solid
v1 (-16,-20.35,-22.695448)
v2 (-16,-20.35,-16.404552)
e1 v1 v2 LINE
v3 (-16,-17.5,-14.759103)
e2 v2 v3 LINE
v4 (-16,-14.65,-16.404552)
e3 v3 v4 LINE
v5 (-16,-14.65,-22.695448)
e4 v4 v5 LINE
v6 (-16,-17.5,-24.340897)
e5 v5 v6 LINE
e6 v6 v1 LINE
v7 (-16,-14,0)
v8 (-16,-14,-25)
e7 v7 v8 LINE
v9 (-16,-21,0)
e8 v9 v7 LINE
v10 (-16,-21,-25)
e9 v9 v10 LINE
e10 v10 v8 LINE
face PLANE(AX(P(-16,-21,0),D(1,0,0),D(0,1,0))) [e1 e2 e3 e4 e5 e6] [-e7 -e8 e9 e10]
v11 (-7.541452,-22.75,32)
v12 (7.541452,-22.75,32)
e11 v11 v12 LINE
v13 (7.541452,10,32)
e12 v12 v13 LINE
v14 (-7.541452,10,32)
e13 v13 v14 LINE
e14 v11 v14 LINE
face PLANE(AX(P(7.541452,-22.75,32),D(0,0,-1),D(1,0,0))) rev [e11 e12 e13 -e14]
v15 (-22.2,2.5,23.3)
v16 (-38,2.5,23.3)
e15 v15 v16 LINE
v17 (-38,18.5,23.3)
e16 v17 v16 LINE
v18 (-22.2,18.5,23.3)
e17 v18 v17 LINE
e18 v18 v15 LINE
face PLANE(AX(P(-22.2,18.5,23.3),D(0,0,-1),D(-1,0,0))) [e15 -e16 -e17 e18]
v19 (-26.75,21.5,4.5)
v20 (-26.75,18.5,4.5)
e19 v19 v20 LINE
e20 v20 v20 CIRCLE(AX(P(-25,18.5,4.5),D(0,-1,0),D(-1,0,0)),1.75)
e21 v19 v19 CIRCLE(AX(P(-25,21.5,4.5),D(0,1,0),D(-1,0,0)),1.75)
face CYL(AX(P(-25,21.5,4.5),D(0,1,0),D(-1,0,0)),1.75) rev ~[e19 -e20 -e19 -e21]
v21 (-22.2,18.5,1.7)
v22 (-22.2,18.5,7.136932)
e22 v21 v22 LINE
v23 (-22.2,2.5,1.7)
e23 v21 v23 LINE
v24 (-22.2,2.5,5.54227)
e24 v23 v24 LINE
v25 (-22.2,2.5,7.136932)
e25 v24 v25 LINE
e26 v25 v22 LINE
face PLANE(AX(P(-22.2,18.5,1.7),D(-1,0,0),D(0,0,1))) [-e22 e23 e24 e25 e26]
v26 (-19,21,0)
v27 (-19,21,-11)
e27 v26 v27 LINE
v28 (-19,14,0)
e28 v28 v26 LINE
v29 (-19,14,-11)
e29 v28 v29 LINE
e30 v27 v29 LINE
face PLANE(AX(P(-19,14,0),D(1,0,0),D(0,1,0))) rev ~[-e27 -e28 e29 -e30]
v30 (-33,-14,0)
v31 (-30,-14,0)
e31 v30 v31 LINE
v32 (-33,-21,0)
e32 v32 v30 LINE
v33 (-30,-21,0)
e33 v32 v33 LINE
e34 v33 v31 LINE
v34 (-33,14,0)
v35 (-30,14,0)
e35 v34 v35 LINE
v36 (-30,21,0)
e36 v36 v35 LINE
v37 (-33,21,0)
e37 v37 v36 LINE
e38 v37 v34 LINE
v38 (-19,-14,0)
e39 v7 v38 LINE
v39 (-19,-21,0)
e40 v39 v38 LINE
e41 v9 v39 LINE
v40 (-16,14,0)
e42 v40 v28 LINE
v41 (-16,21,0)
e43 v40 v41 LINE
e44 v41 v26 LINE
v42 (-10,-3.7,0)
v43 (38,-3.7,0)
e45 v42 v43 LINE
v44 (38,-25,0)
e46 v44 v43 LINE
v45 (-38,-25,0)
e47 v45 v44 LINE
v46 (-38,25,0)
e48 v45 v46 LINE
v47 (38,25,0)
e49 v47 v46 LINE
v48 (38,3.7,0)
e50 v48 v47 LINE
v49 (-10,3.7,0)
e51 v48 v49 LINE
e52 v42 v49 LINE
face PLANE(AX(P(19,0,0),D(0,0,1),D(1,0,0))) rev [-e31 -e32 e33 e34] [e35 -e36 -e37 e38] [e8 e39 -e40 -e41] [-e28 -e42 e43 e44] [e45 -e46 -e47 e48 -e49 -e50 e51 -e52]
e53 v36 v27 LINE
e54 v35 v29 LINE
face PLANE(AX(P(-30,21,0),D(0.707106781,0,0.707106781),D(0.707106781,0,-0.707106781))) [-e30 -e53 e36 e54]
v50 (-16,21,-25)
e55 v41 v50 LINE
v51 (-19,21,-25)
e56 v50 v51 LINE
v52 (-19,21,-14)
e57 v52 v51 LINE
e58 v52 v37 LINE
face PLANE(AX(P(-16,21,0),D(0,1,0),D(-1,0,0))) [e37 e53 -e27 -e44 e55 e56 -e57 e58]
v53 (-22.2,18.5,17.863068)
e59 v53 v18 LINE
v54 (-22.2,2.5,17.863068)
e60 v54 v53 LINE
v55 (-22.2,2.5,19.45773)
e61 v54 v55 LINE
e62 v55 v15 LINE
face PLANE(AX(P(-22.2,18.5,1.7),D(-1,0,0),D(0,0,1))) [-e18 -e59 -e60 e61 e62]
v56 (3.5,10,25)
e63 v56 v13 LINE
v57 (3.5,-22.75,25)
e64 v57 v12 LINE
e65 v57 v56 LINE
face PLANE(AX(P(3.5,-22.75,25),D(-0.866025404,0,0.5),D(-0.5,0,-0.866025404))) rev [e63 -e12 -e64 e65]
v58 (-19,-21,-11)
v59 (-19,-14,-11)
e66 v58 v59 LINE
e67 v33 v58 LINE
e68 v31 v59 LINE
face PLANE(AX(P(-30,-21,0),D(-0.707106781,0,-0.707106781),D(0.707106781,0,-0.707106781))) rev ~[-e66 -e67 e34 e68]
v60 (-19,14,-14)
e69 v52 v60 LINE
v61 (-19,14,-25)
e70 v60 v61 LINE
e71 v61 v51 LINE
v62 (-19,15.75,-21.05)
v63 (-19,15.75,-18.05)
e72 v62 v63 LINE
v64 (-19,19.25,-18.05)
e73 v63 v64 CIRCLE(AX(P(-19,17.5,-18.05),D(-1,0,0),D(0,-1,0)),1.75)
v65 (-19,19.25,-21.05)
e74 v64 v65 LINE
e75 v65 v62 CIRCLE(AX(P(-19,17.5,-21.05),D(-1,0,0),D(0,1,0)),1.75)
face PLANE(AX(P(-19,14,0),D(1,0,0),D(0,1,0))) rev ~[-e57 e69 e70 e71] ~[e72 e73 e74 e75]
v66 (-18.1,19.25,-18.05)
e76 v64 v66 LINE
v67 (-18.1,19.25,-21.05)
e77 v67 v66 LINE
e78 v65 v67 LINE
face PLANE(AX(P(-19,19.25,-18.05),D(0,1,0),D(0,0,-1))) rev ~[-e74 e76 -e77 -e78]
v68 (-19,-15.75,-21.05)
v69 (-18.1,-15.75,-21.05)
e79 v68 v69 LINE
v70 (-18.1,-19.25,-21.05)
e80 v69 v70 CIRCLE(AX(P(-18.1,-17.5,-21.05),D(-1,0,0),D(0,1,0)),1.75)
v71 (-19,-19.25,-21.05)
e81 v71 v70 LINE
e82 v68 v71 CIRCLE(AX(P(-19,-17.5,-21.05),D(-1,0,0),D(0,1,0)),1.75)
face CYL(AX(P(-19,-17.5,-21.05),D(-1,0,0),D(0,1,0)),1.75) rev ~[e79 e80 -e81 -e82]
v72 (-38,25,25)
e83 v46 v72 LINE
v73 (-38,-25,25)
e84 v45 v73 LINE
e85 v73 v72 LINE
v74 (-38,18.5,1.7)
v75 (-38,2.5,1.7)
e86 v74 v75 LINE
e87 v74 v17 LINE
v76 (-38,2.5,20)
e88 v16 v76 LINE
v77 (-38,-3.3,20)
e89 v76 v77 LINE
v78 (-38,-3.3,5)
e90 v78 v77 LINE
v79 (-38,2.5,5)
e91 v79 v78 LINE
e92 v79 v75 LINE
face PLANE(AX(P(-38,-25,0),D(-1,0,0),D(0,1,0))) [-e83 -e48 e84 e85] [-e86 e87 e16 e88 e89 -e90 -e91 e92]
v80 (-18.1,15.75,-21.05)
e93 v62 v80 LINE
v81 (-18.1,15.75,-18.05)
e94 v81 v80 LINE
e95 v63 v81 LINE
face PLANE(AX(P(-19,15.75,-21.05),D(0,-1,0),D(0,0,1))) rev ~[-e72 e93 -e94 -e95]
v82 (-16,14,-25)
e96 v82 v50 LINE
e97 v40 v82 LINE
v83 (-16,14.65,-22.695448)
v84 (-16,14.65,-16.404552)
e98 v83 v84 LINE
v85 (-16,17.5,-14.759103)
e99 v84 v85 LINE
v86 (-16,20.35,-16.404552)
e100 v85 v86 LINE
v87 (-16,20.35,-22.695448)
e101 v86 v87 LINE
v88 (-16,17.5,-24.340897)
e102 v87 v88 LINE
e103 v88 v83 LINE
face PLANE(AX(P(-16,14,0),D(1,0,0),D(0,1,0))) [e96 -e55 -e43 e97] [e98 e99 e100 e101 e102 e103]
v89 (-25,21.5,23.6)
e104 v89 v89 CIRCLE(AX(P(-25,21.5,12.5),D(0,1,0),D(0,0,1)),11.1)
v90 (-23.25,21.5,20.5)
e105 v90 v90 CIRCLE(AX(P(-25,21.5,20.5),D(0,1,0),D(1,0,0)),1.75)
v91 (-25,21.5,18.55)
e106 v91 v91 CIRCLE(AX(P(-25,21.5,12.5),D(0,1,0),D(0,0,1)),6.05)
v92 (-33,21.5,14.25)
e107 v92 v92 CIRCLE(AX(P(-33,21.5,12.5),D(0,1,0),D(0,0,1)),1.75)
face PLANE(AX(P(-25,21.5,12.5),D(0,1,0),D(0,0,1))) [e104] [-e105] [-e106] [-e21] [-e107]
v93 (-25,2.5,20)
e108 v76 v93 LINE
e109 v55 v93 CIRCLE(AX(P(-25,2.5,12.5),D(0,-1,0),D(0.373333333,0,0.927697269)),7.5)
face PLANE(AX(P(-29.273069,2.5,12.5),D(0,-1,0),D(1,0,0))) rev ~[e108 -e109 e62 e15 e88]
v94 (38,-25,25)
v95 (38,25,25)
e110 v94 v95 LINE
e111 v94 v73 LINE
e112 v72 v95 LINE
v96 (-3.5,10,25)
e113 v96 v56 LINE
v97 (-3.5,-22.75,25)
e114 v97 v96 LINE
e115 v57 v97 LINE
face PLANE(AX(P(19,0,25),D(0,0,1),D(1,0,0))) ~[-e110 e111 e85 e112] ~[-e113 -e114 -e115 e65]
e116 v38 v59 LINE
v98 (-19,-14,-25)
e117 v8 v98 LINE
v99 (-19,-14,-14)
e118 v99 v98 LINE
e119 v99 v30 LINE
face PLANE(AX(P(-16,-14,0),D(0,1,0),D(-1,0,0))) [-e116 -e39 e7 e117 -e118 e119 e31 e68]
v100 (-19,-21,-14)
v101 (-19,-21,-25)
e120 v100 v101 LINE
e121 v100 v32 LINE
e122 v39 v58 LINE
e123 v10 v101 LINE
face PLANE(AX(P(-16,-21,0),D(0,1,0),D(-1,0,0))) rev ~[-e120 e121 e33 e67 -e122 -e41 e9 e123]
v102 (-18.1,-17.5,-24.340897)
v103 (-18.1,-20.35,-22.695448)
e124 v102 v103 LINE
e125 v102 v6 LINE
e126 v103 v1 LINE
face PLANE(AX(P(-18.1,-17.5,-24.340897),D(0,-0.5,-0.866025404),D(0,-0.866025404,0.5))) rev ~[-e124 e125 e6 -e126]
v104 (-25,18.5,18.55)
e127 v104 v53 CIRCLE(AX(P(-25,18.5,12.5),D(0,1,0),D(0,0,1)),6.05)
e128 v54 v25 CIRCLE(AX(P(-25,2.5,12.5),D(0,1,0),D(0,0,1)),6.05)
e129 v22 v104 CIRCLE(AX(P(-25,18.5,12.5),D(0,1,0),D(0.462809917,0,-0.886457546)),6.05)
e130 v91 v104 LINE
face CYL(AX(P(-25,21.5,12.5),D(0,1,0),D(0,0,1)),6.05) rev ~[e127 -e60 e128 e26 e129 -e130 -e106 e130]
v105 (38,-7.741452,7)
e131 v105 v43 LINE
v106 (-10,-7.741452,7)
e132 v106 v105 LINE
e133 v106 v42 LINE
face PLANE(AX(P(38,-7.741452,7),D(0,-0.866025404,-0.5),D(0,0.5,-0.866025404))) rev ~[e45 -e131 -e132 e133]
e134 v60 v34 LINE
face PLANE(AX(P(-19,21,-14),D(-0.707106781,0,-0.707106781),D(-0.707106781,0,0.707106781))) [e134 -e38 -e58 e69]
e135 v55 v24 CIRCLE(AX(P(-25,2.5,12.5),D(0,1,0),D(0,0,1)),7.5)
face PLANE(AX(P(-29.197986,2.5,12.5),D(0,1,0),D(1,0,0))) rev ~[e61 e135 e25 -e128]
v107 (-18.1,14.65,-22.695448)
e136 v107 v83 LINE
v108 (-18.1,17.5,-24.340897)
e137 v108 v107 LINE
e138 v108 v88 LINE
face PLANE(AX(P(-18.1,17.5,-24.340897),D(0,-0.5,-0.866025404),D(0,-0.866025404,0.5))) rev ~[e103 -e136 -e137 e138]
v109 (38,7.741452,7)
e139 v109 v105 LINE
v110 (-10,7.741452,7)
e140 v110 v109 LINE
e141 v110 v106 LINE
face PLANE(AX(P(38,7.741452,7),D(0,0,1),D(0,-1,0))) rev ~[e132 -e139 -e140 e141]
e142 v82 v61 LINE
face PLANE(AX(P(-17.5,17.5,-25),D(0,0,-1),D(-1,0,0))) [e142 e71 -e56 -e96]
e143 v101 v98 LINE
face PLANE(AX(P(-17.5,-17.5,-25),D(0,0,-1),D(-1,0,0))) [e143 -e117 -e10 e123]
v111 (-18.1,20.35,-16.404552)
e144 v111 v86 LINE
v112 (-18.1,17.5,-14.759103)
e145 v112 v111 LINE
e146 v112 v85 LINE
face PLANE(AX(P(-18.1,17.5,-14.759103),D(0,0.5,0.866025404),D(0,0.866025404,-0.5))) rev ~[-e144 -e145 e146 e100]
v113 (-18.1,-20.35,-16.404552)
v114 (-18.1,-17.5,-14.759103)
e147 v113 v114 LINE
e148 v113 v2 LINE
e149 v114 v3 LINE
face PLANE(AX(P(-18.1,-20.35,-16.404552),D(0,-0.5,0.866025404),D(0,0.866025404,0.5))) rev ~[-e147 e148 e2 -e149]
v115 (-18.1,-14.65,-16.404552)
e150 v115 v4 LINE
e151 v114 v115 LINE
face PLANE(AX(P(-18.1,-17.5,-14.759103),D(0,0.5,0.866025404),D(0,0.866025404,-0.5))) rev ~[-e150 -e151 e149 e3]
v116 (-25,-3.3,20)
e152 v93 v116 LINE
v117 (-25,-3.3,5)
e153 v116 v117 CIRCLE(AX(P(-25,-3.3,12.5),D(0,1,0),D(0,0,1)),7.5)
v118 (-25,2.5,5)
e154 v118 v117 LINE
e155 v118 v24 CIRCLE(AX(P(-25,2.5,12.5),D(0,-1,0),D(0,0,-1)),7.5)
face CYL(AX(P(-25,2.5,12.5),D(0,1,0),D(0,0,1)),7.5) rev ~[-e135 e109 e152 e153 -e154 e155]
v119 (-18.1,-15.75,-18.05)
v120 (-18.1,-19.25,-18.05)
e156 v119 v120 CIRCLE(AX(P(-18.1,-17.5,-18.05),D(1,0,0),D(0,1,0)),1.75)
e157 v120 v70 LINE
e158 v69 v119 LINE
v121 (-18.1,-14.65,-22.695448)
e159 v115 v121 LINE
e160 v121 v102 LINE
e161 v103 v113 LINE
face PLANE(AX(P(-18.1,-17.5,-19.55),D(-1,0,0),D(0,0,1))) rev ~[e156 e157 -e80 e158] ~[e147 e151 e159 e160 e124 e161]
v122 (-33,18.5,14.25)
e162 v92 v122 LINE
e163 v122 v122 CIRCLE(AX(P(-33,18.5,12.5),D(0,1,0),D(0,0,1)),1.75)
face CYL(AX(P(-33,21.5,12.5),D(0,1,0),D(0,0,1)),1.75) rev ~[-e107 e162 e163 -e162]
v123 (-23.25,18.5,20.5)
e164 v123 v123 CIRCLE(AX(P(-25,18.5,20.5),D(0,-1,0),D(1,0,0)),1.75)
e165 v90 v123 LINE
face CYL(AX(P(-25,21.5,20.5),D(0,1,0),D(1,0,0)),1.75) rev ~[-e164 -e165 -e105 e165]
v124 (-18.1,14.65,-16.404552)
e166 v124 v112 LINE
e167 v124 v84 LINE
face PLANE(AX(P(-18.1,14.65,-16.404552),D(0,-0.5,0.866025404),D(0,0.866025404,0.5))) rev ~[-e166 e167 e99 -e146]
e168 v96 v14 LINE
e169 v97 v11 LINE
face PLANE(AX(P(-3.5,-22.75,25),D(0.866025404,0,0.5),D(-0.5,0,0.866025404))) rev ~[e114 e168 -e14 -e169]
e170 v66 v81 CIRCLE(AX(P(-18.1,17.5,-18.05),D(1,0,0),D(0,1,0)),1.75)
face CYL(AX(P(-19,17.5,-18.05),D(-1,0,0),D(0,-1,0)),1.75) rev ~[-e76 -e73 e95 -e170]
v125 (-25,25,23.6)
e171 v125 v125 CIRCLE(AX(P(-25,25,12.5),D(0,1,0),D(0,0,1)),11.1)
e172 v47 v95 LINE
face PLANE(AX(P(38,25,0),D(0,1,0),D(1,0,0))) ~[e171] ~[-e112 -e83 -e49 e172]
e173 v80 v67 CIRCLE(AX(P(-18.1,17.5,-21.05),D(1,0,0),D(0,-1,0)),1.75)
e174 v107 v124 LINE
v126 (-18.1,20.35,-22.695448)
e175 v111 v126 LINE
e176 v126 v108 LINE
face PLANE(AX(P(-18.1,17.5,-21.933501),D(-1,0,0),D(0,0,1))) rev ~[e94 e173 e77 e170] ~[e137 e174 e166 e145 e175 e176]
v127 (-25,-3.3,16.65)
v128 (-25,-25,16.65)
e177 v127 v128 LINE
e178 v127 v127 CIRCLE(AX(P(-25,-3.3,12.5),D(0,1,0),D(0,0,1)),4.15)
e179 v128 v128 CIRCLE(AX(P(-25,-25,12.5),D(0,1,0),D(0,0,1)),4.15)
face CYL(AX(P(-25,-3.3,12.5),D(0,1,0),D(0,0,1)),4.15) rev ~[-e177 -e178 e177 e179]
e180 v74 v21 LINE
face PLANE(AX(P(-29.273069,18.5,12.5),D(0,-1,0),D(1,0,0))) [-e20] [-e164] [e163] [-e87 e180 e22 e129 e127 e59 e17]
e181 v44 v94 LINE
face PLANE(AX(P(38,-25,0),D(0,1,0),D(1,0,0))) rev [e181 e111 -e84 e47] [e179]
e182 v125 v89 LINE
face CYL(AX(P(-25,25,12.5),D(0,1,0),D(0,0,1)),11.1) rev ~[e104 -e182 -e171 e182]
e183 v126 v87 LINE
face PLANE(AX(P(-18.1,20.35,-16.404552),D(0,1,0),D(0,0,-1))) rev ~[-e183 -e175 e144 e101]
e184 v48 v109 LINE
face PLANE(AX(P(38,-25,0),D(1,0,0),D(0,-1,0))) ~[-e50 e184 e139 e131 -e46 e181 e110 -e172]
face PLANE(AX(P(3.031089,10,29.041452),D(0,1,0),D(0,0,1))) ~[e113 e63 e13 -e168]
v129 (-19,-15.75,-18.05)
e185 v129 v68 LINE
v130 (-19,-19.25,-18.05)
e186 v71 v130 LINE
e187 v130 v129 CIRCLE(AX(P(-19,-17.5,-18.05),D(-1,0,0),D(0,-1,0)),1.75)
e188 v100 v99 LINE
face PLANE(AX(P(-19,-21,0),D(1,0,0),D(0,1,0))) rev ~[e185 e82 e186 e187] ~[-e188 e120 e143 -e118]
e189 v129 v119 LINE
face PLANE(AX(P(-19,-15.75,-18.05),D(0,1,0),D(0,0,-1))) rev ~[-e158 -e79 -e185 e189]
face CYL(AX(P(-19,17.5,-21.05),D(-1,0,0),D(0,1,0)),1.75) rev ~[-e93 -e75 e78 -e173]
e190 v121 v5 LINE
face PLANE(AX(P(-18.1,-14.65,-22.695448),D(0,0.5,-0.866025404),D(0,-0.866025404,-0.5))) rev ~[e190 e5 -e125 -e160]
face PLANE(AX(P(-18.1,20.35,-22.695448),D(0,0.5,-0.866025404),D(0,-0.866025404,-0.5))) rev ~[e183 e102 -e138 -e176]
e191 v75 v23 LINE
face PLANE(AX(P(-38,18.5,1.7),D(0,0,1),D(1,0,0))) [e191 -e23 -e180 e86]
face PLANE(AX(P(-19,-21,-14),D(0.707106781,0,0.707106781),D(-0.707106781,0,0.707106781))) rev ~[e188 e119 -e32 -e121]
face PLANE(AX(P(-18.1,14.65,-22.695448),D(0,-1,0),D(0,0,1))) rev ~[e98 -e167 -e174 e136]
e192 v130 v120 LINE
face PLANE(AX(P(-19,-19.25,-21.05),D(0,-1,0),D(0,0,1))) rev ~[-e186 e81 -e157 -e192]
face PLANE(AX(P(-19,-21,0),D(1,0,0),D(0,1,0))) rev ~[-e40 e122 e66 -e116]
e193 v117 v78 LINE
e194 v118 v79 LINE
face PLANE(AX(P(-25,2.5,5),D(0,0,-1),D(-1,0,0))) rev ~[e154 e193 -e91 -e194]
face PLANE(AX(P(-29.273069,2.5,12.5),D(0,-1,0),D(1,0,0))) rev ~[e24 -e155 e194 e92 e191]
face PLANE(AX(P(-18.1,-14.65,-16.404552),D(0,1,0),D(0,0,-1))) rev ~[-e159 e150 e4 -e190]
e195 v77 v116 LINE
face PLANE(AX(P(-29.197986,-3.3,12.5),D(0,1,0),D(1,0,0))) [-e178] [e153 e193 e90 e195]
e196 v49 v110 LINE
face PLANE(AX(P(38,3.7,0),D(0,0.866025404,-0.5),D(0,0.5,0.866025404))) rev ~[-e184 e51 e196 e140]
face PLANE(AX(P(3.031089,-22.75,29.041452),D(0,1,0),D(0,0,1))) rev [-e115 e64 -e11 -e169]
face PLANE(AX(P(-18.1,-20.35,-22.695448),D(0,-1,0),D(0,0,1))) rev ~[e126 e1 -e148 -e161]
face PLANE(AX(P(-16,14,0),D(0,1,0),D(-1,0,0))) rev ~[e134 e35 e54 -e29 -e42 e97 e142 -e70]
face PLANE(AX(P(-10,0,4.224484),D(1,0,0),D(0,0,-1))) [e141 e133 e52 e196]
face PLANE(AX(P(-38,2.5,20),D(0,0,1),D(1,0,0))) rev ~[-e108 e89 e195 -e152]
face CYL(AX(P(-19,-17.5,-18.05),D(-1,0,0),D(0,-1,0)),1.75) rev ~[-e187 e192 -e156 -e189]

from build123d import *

# Parameters (mm, degrees)
SKETCH1_W                       = 38
SKETCH1_H                       = 50
BOSS_EXTRUDE1_DEPTH             = 25
BOSS_EXTRUDE2_START             = -22.75
BOSS_EXTRUDE2_DEPTH             = 32.75
CUT_EXTRUDE1_DEPTH              = 10
CUT_EXTRUDE2_REACH              = 88.168
CUT_EXTRUDE2_DIRECTION_2_DEPTH  = 87.168439698
SKETCH15_R                      = 11.1
CUT_EXTRUDE8_DEPTH              = 3.5
SKETCH16_R                      = 6.05
CUT_EXTRUDE9_DEPTH              = 19
SKETCH17_R                      = 6.05
CUT_EXTRUDE10_DEPTH             = 5.8
CUT_EXTRUDE11_START             = -16
CUT_EXTRUDE11_DEPTH             = 16
SKETCH19_R                      = 1.75
CUT_EXTRUDE12_DEPTH             = 19
CIRPATTERN1_COUNT               = 2
CIRPATTERN1_ANGLE               = 90
CIRPATTERN1_THE_OTHER_WAY_COUNT = 2
CIRPATTERN1_THE_OTHER_WAY_ANGLE = 90
SKETCH20_R                      = 4.15
CUT_EXTRUDE13_DEPTH             = 58.174207472
SKETCH21_R                      = 1.75
CUT_EXTRUDE14_DEPTH             = 16
SKETCH22_W                      = 3
SKETCH22_H                      = 7
BOSS_EXTRUDE5_DEPTH             = 25
CUT_EXTRUDE15_DEPTH             = 10
CUT_EXTRUDE16_START             = 2.1
CUT_EXTRUDE16_DEPTH             = 2.1
BOSS_EXTRUDE7_DEPTH             = 7
BOSS_EXTRUDE8_DEPTH             = 7


with BuildPart() as part:
    # Sketch1 → Boss-Extrude1 (new body)
    with BuildSketch(Plane.XY):
        with Locations((-19, 0)):
            Rectangle(SKETCH1_W, SKETCH1_H)
    boss_extrude1 = extrude(amount=BOSS_EXTRUDE1_DEPTH)

    # Sketch2 → Boss-Extrude2 (add)
    with BuildSketch(Plane(origin=(0, 0, 0), x_dir=(0, 0, -1), z_dir=(0, 1, 0)).offset(BOSS_EXTRUDE2_START)):
        Polygon((-25, 0), (-25, 3.5), (-32, 7.541451884), (-32, 0), align=None)
    boss_extrude2 = extrude(amount=BOSS_EXTRUDE2_DEPTH)

    # Sketch3 → Cut-Extrude1 (cut)
    with BuildSketch(Plane(origin=(0, 0, 0), x_dir=(0, 0, -1), z_dir=(1, 0, 0))):
        Polygon((0, -3.7), (0, 3.7), (-7, 7.741451884), (-7, -7.741451884), align=None)
    cut_extrude1 = extrude(amount=-CUT_EXTRUDE1_DEPTH, mode=Mode.SUBTRACT)

    # Mirror1: Boss-Extrude1, Boss-Extrude2, Cut-Extrude1 across plane
    add(boss_extrude1.mirror(Plane(origin=(0, 0, 0), x_dir=(0, 0, 1), z_dir=(1, 0, 0))))
    add(boss_extrude2.mirror(Plane(origin=(0, 0, 0), x_dir=(0, 0, 1), z_dir=(1, 0, 0))))
    add(cut_extrude1.mirror(Plane(origin=(0, 0, 0), x_dir=(0, 0, 1), z_dir=(1, 0, 0))), mode=Mode.SUBTRACT)

    # Sketch4 → Cut-Extrude2 (cut, up to next)
    with BuildSketch(Plane(origin=(38, 0, 0), x_dir=(0, 0, -1), z_dir=(1, 0, 0)), mode=Mode.PRIVATE) as cut_extrude2_sk1:
        Polygon((0, -3.7), (0, 3.7), (-7, 7.741451884), (-7, -7.741451884), align=None)
    cut_extrude2_tool1 = extrude(cut_extrude2_sk1.sketch, amount=-CUT_EXTRUDE2_REACH, mode=Mode.PRIVATE) & part.part
    add(cut_extrude2_tool1.solids().sort_by_distance((38, 0, 3.9121))[0], mode=Mode.SUBTRACT)

    # Sketch4 → Cut-Extrude2 direction 2 (cut)
    with BuildSketch(Plane(origin=(38, 0, 0), x_dir=(0, 0, -1), z_dir=(1, 0, 0))):
        Polygon((0, -3.7), (0, 3.7), (-7, 7.741451884), (-7, -7.741451884), align=None)
    extrude(amount=CUT_EXTRUDE2_DIRECTION_2_DEPTH, mode=Mode.SUBTRACT)

    # Sketch15 → Cut-Extrude8 (cut)
    with BuildSketch(Plane(origin=(0, 25, 0), x_dir=(1, 0, 0), z_dir=(0, 1, 0))):
        with Locations(Location((-25, -12.5, 0), (0, 0, 270))):
            Circle(SKETCH15_R)
    extrude(amount=-CUT_EXTRUDE8_DEPTH, mode=Mode.SUBTRACT)

    # Sketch16 → Cut-Extrude9 (cut)
    with BuildSketch(Plane(origin=(0, 21.5, 0), x_dir=(1, 0, 0), z_dir=(0, 1, 0))):
        with Locations(Location((-25, -12.5, 0), (0, 0, 270))):
            Circle(SKETCH16_R)
    extrude(amount=-CUT_EXTRUDE9_DEPTH, mode=Mode.SUBTRACT)

    # Sketch17 → Cut-Extrude10 (cut)
    # profile 1 of 2: a face of its own
    with BuildSketch(Plane(origin=(0, 2.5, 0), x_dir=(1, 0, 0), z_dir=(0, 1, 0))):
        with BuildLine():
            ThreePointArc((-25, -20), (-17.5, -12.5), (-25, -5))
            Line((-25, -5), (-38, -5))
            Line((-38, -5), (-38, -20))
            Line((-38, -20), (-25, -20))
        make_face()
        with Locations(Location((-25, -12.5, 0), (0, 0, 270))):
            Circle(SKETCH17_R, mode=Mode.SUBTRACT)
    # profile 2 of 2: a face of its own
    with BuildSketch(Plane(origin=(0, 2.5, 0), x_dir=(1, 0, 0), z_dir=(0, 1, 0))):
        with Locations(Location((-25, -12.5, 0), (0, 0, 270))):
            Circle(SKETCH17_R)
    extrude(amount=-CUT_EXTRUDE10_DEPTH, mode=Mode.SUBTRACT)

    # Sketch18 → Cut-Extrude11 (cut)
    with BuildSketch(Plane.XZ.offset(-2.5).offset(CUT_EXTRUDE11_START)):
        with BuildLine():
            Line((-25, 18.55), (-38, 18.55))
            Line((-38, 18.55), (-38, 6.45))
            Line((-38, 6.45), (-25, 6.45))
            ThreePointArc((-25, 6.45), (-18.95, 12.5), (-25, 18.55))
        make_face()
    extrude(amount=CUT_EXTRUDE11_DEPTH, mode=Mode.SUBTRACT)

    # Sketch19 → Cut-Extrude12 (cut)
    with BuildSketch(Plane(origin=(0, 21.5, 0), x_dir=(1, 0, 0), z_dir=(0, 1, 0))):
        with Locations(Location((-33, -12.5, 0), (0, 0, 270))):
            Circle(SKETCH19_R)
    cut_extrude12 = extrude(amount=-CUT_EXTRUDE12_DEPTH, mode=Mode.SUBTRACT)

    # CirPattern1: Cut-Extrude12 ×2 about axis
    cirpattern1_axis = Axis((-25, 24.978467243, 12.5), (0, 1, 0))
    for i in range(1, CIRPATTERN1_COUNT):
        add(cut_extrude12.rotate(cirpattern1_axis, i * CIRPATTERN1_ANGLE / (CIRPATTERN1_COUNT - 1)), mode=Mode.SUBTRACT)

    # CirPattern1 the other way: Cut-Extrude12 ×2 about axis
    cirpattern1_the_other_way_axis = Axis((-25, 24.978467243, 12.5), (0, -1, 0))
    for i in range(1, CIRPATTERN1_THE_OTHER_WAY_COUNT):
        add(cut_extrude12.rotate(cirpattern1_the_other_way_axis, i * CIRPATTERN1_THE_OTHER_WAY_ANGLE / (CIRPATTERN1_THE_OTHER_WAY_COUNT - 1)), mode=Mode.SUBTRACT)

    # Sketch20 → Cut-Extrude13 (cut, through all)
    with BuildSketch(Plane(origin=(0, -3.3, 0), x_dir=(1, 0, 0), z_dir=(0, 1, 0))):
        with Locations(Location((-25, -12.5, 0), (0, 0, 270))):
            Circle(SKETCH20_R)
    extrude(amount=-CUT_EXTRUDE13_DEPTH, mode=Mode.SUBTRACT)

    # Sketch21 → Cut-Extrude14 (cut)
    with BuildSketch(Plane.XZ.offset(-18.5)):
        with BuildLine():
            Line((-38, 6.45), (-38, 1.7))
            Line((-38, 1.7), (-22.2, 1.7))
            Line((-22.2, 1.7), (-22.2, 23.3))
            Line((-22.2, 23.3), (-38, 23.3))
            Line((-38, 23.3), (-38, 18.55))
            Line((-38, 18.55), (-25, 18.55))
            ThreePointArc((-25, 18.55), (-31.05, 12.5), (-25, 6.45))
            Line((-25, 6.45), (-38, 6.45))
        make_face()
        with Locations(Location((-25, 4.5, 0), (0, 0, 180))):
            Circle(SKETCH21_R, mode=Mode.SUBTRACT)
        with Locations((-25, 20.5)):
            Circle(SKETCH21_R, mode=Mode.SUBTRACT)
    extrude(amount=CUT_EXTRUDE14_DEPTH, mode=Mode.SUBTRACT)

    # Sketch22 → Boss-Extrude5 (add)
    with BuildSketch(Plane(origin=(0, 0, 0), x_dir=(-1, 0, 0), z_dir=(0, 0, -1))):
        with Locations((17.5, 17.5)):
            Rectangle(SKETCH22_W, SKETCH22_H)
        with Locations((17.5, -17.5)):
            Rectangle(SKETCH22_W, SKETCH22_H)
    extrude(amount=BOSS_EXTRUDE5_DEPTH)

    # Sketch23 → Cut-Extrude15 (cut)
    with BuildSketch(Plane.ZY.offset(19)):
        with BuildLine():
            Line((-18.05, 19.25), (-21.05, 19.25))
            ThreePointArc((-21.05, 19.25), (-22.8, 17.5), (-21.05, 15.75))
            Line((-21.05, 15.75), (-18.05, 15.75))
            ThreePointArc((-18.05, 15.75), (-16.3, 17.5), (-18.05, 19.25))
        make_face()
        with BuildLine():
            Line((-18.05, -15.75), (-21.05, -15.75))
            ThreePointArc((-21.05, -15.75), (-22.8, -17.5), (-21.05, -19.25))
            Line((-21.05, -19.25), (-18.05, -19.25))
            ThreePointArc((-18.05, -19.25), (-16.3, -17.5), (-18.05, -15.75))
        make_face()
    extrude(amount=-CUT_EXTRUDE15_DEPTH, mode=Mode.SUBTRACT)

    # Sketch24 → Cut-Extrude16 (cut)
    with BuildSketch(Plane.ZY.offset(16).offset(CUT_EXTRUDE16_START)):
        with BuildLine():
            Line((-21.05, 19.25), (-20.330533563, 19.25))
            Line((-20.330533563, 19.25), (-19.695448267, 20.35))
            Line((-19.695448267, 20.35), (-22.695448267, 20.35))
            Line((-22.695448267, 20.35), (-24.340896534, 17.5))
            Line((-24.340896534, 17.5), (-22.695448267, 14.65))
            Line((-22.695448267, 14.65), (-19.695448267, 14.65))
            Line((-19.695448267, 14.65), (-20.330533563, 15.75))
            Line((-20.330533563, 15.75), (-21.05, 15.75))
            ThreePointArc((-21.05, 15.75), (-22.8, 17.5), (-21.05, 19.25))
        make_face()
        with BuildLine():
            Line((-19.404551733, 20.35), (-18.769466437, 19.25))
            Line((-18.769466437, 19.25), (-18.05, 19.25))
            ThreePointArc((-18.05, 19.25), (-16.3, 17.5), (-18.05, 15.75))
            Line((-18.05, 15.75), (-18.769466437, 15.75))
            Line((-18.769466437, 15.75), (-19.404551733, 14.65))
            Line((-19.404551733, 14.65), (-16.404551733, 14.65))
            Line((-16.404551733, 14.65), (-14.759103466, 17.5))
            Line((-14.759103466, 17.5), (-16.404551733, 20.35))
            Line((-16.404551733, 20.35), (-19.404551733, 20.35))
        make_face()
        Polygon((-20.330533563, 19.25), (-18.769466437, 19.25), (-19.404551733, 20.35), (-19.695448267, 20.35), align=None)
        Polygon((-19.404551733, 14.65), (-18.769466437, 15.75), (-20.330533563, 15.75), (-19.695448267, 14.65), align=None)
        Polygon((-19.404551733, -20.35), (-17.759103466, -17.5), (-19.404551733, -14.65), (-19.695448267, -14.65), (-21.340896534, -17.5), (-19.695448267, -20.35), align=None)
        Polygon((-21.340896534, -17.5), (-19.695448267, -14.65), (-22.695448267, -14.65), (-24.340896534, -17.5), (-22.695448267, -20.35), (-19.695448267, -20.35), align=None)
        with BuildLine():
            Line((-19.404551733, -14.65), (-18.769466437, -15.75))
            Line((-18.769466437, -15.75), (-18.05, -15.75))
            ThreePointArc((-18.05, -15.75), (-16.3, -17.5), (-18.05, -19.25))
            Line((-18.05, -19.25), (-18.769466437, -19.25))
            Line((-18.769466437, -19.25), (-19.404551733, -20.35))
            Line((-19.404551733, -20.35), (-16.404551733, -20.35))
            Line((-16.404551733, -20.35), (-14.759103466, -17.5))
            Line((-14.759103466, -17.5), (-16.404551733, -14.65))
            Line((-16.404551733, -14.65), (-19.404551733, -14.65))
        make_face()
    extrude(amount=-CUT_EXTRUDE16_DEPTH, mode=Mode.SUBTRACT)

    # Sketch26 → Boss-Extrude7 (add)
    with BuildSketch(Plane.XZ.offset(21)):
        Polygon((-19, -14), (-33, 0), (-30, 0), (-19, -11), align=None)
    extrude(amount=-BOSS_EXTRUDE7_DEPTH)

    # Sketch28 → Boss-Extrude8 (add)
    with BuildSketch(Plane(origin=(0, 21, 0), x_dir=(1, 0, 0), z_dir=(0, 1, 0))):
        Polygon((-33, 0), (-30, 0), (-19, 11), (-19, 14), align=None)
    extrude(amount=-BOSS_EXTRUDE8_DEPTH)


solid = part.part
